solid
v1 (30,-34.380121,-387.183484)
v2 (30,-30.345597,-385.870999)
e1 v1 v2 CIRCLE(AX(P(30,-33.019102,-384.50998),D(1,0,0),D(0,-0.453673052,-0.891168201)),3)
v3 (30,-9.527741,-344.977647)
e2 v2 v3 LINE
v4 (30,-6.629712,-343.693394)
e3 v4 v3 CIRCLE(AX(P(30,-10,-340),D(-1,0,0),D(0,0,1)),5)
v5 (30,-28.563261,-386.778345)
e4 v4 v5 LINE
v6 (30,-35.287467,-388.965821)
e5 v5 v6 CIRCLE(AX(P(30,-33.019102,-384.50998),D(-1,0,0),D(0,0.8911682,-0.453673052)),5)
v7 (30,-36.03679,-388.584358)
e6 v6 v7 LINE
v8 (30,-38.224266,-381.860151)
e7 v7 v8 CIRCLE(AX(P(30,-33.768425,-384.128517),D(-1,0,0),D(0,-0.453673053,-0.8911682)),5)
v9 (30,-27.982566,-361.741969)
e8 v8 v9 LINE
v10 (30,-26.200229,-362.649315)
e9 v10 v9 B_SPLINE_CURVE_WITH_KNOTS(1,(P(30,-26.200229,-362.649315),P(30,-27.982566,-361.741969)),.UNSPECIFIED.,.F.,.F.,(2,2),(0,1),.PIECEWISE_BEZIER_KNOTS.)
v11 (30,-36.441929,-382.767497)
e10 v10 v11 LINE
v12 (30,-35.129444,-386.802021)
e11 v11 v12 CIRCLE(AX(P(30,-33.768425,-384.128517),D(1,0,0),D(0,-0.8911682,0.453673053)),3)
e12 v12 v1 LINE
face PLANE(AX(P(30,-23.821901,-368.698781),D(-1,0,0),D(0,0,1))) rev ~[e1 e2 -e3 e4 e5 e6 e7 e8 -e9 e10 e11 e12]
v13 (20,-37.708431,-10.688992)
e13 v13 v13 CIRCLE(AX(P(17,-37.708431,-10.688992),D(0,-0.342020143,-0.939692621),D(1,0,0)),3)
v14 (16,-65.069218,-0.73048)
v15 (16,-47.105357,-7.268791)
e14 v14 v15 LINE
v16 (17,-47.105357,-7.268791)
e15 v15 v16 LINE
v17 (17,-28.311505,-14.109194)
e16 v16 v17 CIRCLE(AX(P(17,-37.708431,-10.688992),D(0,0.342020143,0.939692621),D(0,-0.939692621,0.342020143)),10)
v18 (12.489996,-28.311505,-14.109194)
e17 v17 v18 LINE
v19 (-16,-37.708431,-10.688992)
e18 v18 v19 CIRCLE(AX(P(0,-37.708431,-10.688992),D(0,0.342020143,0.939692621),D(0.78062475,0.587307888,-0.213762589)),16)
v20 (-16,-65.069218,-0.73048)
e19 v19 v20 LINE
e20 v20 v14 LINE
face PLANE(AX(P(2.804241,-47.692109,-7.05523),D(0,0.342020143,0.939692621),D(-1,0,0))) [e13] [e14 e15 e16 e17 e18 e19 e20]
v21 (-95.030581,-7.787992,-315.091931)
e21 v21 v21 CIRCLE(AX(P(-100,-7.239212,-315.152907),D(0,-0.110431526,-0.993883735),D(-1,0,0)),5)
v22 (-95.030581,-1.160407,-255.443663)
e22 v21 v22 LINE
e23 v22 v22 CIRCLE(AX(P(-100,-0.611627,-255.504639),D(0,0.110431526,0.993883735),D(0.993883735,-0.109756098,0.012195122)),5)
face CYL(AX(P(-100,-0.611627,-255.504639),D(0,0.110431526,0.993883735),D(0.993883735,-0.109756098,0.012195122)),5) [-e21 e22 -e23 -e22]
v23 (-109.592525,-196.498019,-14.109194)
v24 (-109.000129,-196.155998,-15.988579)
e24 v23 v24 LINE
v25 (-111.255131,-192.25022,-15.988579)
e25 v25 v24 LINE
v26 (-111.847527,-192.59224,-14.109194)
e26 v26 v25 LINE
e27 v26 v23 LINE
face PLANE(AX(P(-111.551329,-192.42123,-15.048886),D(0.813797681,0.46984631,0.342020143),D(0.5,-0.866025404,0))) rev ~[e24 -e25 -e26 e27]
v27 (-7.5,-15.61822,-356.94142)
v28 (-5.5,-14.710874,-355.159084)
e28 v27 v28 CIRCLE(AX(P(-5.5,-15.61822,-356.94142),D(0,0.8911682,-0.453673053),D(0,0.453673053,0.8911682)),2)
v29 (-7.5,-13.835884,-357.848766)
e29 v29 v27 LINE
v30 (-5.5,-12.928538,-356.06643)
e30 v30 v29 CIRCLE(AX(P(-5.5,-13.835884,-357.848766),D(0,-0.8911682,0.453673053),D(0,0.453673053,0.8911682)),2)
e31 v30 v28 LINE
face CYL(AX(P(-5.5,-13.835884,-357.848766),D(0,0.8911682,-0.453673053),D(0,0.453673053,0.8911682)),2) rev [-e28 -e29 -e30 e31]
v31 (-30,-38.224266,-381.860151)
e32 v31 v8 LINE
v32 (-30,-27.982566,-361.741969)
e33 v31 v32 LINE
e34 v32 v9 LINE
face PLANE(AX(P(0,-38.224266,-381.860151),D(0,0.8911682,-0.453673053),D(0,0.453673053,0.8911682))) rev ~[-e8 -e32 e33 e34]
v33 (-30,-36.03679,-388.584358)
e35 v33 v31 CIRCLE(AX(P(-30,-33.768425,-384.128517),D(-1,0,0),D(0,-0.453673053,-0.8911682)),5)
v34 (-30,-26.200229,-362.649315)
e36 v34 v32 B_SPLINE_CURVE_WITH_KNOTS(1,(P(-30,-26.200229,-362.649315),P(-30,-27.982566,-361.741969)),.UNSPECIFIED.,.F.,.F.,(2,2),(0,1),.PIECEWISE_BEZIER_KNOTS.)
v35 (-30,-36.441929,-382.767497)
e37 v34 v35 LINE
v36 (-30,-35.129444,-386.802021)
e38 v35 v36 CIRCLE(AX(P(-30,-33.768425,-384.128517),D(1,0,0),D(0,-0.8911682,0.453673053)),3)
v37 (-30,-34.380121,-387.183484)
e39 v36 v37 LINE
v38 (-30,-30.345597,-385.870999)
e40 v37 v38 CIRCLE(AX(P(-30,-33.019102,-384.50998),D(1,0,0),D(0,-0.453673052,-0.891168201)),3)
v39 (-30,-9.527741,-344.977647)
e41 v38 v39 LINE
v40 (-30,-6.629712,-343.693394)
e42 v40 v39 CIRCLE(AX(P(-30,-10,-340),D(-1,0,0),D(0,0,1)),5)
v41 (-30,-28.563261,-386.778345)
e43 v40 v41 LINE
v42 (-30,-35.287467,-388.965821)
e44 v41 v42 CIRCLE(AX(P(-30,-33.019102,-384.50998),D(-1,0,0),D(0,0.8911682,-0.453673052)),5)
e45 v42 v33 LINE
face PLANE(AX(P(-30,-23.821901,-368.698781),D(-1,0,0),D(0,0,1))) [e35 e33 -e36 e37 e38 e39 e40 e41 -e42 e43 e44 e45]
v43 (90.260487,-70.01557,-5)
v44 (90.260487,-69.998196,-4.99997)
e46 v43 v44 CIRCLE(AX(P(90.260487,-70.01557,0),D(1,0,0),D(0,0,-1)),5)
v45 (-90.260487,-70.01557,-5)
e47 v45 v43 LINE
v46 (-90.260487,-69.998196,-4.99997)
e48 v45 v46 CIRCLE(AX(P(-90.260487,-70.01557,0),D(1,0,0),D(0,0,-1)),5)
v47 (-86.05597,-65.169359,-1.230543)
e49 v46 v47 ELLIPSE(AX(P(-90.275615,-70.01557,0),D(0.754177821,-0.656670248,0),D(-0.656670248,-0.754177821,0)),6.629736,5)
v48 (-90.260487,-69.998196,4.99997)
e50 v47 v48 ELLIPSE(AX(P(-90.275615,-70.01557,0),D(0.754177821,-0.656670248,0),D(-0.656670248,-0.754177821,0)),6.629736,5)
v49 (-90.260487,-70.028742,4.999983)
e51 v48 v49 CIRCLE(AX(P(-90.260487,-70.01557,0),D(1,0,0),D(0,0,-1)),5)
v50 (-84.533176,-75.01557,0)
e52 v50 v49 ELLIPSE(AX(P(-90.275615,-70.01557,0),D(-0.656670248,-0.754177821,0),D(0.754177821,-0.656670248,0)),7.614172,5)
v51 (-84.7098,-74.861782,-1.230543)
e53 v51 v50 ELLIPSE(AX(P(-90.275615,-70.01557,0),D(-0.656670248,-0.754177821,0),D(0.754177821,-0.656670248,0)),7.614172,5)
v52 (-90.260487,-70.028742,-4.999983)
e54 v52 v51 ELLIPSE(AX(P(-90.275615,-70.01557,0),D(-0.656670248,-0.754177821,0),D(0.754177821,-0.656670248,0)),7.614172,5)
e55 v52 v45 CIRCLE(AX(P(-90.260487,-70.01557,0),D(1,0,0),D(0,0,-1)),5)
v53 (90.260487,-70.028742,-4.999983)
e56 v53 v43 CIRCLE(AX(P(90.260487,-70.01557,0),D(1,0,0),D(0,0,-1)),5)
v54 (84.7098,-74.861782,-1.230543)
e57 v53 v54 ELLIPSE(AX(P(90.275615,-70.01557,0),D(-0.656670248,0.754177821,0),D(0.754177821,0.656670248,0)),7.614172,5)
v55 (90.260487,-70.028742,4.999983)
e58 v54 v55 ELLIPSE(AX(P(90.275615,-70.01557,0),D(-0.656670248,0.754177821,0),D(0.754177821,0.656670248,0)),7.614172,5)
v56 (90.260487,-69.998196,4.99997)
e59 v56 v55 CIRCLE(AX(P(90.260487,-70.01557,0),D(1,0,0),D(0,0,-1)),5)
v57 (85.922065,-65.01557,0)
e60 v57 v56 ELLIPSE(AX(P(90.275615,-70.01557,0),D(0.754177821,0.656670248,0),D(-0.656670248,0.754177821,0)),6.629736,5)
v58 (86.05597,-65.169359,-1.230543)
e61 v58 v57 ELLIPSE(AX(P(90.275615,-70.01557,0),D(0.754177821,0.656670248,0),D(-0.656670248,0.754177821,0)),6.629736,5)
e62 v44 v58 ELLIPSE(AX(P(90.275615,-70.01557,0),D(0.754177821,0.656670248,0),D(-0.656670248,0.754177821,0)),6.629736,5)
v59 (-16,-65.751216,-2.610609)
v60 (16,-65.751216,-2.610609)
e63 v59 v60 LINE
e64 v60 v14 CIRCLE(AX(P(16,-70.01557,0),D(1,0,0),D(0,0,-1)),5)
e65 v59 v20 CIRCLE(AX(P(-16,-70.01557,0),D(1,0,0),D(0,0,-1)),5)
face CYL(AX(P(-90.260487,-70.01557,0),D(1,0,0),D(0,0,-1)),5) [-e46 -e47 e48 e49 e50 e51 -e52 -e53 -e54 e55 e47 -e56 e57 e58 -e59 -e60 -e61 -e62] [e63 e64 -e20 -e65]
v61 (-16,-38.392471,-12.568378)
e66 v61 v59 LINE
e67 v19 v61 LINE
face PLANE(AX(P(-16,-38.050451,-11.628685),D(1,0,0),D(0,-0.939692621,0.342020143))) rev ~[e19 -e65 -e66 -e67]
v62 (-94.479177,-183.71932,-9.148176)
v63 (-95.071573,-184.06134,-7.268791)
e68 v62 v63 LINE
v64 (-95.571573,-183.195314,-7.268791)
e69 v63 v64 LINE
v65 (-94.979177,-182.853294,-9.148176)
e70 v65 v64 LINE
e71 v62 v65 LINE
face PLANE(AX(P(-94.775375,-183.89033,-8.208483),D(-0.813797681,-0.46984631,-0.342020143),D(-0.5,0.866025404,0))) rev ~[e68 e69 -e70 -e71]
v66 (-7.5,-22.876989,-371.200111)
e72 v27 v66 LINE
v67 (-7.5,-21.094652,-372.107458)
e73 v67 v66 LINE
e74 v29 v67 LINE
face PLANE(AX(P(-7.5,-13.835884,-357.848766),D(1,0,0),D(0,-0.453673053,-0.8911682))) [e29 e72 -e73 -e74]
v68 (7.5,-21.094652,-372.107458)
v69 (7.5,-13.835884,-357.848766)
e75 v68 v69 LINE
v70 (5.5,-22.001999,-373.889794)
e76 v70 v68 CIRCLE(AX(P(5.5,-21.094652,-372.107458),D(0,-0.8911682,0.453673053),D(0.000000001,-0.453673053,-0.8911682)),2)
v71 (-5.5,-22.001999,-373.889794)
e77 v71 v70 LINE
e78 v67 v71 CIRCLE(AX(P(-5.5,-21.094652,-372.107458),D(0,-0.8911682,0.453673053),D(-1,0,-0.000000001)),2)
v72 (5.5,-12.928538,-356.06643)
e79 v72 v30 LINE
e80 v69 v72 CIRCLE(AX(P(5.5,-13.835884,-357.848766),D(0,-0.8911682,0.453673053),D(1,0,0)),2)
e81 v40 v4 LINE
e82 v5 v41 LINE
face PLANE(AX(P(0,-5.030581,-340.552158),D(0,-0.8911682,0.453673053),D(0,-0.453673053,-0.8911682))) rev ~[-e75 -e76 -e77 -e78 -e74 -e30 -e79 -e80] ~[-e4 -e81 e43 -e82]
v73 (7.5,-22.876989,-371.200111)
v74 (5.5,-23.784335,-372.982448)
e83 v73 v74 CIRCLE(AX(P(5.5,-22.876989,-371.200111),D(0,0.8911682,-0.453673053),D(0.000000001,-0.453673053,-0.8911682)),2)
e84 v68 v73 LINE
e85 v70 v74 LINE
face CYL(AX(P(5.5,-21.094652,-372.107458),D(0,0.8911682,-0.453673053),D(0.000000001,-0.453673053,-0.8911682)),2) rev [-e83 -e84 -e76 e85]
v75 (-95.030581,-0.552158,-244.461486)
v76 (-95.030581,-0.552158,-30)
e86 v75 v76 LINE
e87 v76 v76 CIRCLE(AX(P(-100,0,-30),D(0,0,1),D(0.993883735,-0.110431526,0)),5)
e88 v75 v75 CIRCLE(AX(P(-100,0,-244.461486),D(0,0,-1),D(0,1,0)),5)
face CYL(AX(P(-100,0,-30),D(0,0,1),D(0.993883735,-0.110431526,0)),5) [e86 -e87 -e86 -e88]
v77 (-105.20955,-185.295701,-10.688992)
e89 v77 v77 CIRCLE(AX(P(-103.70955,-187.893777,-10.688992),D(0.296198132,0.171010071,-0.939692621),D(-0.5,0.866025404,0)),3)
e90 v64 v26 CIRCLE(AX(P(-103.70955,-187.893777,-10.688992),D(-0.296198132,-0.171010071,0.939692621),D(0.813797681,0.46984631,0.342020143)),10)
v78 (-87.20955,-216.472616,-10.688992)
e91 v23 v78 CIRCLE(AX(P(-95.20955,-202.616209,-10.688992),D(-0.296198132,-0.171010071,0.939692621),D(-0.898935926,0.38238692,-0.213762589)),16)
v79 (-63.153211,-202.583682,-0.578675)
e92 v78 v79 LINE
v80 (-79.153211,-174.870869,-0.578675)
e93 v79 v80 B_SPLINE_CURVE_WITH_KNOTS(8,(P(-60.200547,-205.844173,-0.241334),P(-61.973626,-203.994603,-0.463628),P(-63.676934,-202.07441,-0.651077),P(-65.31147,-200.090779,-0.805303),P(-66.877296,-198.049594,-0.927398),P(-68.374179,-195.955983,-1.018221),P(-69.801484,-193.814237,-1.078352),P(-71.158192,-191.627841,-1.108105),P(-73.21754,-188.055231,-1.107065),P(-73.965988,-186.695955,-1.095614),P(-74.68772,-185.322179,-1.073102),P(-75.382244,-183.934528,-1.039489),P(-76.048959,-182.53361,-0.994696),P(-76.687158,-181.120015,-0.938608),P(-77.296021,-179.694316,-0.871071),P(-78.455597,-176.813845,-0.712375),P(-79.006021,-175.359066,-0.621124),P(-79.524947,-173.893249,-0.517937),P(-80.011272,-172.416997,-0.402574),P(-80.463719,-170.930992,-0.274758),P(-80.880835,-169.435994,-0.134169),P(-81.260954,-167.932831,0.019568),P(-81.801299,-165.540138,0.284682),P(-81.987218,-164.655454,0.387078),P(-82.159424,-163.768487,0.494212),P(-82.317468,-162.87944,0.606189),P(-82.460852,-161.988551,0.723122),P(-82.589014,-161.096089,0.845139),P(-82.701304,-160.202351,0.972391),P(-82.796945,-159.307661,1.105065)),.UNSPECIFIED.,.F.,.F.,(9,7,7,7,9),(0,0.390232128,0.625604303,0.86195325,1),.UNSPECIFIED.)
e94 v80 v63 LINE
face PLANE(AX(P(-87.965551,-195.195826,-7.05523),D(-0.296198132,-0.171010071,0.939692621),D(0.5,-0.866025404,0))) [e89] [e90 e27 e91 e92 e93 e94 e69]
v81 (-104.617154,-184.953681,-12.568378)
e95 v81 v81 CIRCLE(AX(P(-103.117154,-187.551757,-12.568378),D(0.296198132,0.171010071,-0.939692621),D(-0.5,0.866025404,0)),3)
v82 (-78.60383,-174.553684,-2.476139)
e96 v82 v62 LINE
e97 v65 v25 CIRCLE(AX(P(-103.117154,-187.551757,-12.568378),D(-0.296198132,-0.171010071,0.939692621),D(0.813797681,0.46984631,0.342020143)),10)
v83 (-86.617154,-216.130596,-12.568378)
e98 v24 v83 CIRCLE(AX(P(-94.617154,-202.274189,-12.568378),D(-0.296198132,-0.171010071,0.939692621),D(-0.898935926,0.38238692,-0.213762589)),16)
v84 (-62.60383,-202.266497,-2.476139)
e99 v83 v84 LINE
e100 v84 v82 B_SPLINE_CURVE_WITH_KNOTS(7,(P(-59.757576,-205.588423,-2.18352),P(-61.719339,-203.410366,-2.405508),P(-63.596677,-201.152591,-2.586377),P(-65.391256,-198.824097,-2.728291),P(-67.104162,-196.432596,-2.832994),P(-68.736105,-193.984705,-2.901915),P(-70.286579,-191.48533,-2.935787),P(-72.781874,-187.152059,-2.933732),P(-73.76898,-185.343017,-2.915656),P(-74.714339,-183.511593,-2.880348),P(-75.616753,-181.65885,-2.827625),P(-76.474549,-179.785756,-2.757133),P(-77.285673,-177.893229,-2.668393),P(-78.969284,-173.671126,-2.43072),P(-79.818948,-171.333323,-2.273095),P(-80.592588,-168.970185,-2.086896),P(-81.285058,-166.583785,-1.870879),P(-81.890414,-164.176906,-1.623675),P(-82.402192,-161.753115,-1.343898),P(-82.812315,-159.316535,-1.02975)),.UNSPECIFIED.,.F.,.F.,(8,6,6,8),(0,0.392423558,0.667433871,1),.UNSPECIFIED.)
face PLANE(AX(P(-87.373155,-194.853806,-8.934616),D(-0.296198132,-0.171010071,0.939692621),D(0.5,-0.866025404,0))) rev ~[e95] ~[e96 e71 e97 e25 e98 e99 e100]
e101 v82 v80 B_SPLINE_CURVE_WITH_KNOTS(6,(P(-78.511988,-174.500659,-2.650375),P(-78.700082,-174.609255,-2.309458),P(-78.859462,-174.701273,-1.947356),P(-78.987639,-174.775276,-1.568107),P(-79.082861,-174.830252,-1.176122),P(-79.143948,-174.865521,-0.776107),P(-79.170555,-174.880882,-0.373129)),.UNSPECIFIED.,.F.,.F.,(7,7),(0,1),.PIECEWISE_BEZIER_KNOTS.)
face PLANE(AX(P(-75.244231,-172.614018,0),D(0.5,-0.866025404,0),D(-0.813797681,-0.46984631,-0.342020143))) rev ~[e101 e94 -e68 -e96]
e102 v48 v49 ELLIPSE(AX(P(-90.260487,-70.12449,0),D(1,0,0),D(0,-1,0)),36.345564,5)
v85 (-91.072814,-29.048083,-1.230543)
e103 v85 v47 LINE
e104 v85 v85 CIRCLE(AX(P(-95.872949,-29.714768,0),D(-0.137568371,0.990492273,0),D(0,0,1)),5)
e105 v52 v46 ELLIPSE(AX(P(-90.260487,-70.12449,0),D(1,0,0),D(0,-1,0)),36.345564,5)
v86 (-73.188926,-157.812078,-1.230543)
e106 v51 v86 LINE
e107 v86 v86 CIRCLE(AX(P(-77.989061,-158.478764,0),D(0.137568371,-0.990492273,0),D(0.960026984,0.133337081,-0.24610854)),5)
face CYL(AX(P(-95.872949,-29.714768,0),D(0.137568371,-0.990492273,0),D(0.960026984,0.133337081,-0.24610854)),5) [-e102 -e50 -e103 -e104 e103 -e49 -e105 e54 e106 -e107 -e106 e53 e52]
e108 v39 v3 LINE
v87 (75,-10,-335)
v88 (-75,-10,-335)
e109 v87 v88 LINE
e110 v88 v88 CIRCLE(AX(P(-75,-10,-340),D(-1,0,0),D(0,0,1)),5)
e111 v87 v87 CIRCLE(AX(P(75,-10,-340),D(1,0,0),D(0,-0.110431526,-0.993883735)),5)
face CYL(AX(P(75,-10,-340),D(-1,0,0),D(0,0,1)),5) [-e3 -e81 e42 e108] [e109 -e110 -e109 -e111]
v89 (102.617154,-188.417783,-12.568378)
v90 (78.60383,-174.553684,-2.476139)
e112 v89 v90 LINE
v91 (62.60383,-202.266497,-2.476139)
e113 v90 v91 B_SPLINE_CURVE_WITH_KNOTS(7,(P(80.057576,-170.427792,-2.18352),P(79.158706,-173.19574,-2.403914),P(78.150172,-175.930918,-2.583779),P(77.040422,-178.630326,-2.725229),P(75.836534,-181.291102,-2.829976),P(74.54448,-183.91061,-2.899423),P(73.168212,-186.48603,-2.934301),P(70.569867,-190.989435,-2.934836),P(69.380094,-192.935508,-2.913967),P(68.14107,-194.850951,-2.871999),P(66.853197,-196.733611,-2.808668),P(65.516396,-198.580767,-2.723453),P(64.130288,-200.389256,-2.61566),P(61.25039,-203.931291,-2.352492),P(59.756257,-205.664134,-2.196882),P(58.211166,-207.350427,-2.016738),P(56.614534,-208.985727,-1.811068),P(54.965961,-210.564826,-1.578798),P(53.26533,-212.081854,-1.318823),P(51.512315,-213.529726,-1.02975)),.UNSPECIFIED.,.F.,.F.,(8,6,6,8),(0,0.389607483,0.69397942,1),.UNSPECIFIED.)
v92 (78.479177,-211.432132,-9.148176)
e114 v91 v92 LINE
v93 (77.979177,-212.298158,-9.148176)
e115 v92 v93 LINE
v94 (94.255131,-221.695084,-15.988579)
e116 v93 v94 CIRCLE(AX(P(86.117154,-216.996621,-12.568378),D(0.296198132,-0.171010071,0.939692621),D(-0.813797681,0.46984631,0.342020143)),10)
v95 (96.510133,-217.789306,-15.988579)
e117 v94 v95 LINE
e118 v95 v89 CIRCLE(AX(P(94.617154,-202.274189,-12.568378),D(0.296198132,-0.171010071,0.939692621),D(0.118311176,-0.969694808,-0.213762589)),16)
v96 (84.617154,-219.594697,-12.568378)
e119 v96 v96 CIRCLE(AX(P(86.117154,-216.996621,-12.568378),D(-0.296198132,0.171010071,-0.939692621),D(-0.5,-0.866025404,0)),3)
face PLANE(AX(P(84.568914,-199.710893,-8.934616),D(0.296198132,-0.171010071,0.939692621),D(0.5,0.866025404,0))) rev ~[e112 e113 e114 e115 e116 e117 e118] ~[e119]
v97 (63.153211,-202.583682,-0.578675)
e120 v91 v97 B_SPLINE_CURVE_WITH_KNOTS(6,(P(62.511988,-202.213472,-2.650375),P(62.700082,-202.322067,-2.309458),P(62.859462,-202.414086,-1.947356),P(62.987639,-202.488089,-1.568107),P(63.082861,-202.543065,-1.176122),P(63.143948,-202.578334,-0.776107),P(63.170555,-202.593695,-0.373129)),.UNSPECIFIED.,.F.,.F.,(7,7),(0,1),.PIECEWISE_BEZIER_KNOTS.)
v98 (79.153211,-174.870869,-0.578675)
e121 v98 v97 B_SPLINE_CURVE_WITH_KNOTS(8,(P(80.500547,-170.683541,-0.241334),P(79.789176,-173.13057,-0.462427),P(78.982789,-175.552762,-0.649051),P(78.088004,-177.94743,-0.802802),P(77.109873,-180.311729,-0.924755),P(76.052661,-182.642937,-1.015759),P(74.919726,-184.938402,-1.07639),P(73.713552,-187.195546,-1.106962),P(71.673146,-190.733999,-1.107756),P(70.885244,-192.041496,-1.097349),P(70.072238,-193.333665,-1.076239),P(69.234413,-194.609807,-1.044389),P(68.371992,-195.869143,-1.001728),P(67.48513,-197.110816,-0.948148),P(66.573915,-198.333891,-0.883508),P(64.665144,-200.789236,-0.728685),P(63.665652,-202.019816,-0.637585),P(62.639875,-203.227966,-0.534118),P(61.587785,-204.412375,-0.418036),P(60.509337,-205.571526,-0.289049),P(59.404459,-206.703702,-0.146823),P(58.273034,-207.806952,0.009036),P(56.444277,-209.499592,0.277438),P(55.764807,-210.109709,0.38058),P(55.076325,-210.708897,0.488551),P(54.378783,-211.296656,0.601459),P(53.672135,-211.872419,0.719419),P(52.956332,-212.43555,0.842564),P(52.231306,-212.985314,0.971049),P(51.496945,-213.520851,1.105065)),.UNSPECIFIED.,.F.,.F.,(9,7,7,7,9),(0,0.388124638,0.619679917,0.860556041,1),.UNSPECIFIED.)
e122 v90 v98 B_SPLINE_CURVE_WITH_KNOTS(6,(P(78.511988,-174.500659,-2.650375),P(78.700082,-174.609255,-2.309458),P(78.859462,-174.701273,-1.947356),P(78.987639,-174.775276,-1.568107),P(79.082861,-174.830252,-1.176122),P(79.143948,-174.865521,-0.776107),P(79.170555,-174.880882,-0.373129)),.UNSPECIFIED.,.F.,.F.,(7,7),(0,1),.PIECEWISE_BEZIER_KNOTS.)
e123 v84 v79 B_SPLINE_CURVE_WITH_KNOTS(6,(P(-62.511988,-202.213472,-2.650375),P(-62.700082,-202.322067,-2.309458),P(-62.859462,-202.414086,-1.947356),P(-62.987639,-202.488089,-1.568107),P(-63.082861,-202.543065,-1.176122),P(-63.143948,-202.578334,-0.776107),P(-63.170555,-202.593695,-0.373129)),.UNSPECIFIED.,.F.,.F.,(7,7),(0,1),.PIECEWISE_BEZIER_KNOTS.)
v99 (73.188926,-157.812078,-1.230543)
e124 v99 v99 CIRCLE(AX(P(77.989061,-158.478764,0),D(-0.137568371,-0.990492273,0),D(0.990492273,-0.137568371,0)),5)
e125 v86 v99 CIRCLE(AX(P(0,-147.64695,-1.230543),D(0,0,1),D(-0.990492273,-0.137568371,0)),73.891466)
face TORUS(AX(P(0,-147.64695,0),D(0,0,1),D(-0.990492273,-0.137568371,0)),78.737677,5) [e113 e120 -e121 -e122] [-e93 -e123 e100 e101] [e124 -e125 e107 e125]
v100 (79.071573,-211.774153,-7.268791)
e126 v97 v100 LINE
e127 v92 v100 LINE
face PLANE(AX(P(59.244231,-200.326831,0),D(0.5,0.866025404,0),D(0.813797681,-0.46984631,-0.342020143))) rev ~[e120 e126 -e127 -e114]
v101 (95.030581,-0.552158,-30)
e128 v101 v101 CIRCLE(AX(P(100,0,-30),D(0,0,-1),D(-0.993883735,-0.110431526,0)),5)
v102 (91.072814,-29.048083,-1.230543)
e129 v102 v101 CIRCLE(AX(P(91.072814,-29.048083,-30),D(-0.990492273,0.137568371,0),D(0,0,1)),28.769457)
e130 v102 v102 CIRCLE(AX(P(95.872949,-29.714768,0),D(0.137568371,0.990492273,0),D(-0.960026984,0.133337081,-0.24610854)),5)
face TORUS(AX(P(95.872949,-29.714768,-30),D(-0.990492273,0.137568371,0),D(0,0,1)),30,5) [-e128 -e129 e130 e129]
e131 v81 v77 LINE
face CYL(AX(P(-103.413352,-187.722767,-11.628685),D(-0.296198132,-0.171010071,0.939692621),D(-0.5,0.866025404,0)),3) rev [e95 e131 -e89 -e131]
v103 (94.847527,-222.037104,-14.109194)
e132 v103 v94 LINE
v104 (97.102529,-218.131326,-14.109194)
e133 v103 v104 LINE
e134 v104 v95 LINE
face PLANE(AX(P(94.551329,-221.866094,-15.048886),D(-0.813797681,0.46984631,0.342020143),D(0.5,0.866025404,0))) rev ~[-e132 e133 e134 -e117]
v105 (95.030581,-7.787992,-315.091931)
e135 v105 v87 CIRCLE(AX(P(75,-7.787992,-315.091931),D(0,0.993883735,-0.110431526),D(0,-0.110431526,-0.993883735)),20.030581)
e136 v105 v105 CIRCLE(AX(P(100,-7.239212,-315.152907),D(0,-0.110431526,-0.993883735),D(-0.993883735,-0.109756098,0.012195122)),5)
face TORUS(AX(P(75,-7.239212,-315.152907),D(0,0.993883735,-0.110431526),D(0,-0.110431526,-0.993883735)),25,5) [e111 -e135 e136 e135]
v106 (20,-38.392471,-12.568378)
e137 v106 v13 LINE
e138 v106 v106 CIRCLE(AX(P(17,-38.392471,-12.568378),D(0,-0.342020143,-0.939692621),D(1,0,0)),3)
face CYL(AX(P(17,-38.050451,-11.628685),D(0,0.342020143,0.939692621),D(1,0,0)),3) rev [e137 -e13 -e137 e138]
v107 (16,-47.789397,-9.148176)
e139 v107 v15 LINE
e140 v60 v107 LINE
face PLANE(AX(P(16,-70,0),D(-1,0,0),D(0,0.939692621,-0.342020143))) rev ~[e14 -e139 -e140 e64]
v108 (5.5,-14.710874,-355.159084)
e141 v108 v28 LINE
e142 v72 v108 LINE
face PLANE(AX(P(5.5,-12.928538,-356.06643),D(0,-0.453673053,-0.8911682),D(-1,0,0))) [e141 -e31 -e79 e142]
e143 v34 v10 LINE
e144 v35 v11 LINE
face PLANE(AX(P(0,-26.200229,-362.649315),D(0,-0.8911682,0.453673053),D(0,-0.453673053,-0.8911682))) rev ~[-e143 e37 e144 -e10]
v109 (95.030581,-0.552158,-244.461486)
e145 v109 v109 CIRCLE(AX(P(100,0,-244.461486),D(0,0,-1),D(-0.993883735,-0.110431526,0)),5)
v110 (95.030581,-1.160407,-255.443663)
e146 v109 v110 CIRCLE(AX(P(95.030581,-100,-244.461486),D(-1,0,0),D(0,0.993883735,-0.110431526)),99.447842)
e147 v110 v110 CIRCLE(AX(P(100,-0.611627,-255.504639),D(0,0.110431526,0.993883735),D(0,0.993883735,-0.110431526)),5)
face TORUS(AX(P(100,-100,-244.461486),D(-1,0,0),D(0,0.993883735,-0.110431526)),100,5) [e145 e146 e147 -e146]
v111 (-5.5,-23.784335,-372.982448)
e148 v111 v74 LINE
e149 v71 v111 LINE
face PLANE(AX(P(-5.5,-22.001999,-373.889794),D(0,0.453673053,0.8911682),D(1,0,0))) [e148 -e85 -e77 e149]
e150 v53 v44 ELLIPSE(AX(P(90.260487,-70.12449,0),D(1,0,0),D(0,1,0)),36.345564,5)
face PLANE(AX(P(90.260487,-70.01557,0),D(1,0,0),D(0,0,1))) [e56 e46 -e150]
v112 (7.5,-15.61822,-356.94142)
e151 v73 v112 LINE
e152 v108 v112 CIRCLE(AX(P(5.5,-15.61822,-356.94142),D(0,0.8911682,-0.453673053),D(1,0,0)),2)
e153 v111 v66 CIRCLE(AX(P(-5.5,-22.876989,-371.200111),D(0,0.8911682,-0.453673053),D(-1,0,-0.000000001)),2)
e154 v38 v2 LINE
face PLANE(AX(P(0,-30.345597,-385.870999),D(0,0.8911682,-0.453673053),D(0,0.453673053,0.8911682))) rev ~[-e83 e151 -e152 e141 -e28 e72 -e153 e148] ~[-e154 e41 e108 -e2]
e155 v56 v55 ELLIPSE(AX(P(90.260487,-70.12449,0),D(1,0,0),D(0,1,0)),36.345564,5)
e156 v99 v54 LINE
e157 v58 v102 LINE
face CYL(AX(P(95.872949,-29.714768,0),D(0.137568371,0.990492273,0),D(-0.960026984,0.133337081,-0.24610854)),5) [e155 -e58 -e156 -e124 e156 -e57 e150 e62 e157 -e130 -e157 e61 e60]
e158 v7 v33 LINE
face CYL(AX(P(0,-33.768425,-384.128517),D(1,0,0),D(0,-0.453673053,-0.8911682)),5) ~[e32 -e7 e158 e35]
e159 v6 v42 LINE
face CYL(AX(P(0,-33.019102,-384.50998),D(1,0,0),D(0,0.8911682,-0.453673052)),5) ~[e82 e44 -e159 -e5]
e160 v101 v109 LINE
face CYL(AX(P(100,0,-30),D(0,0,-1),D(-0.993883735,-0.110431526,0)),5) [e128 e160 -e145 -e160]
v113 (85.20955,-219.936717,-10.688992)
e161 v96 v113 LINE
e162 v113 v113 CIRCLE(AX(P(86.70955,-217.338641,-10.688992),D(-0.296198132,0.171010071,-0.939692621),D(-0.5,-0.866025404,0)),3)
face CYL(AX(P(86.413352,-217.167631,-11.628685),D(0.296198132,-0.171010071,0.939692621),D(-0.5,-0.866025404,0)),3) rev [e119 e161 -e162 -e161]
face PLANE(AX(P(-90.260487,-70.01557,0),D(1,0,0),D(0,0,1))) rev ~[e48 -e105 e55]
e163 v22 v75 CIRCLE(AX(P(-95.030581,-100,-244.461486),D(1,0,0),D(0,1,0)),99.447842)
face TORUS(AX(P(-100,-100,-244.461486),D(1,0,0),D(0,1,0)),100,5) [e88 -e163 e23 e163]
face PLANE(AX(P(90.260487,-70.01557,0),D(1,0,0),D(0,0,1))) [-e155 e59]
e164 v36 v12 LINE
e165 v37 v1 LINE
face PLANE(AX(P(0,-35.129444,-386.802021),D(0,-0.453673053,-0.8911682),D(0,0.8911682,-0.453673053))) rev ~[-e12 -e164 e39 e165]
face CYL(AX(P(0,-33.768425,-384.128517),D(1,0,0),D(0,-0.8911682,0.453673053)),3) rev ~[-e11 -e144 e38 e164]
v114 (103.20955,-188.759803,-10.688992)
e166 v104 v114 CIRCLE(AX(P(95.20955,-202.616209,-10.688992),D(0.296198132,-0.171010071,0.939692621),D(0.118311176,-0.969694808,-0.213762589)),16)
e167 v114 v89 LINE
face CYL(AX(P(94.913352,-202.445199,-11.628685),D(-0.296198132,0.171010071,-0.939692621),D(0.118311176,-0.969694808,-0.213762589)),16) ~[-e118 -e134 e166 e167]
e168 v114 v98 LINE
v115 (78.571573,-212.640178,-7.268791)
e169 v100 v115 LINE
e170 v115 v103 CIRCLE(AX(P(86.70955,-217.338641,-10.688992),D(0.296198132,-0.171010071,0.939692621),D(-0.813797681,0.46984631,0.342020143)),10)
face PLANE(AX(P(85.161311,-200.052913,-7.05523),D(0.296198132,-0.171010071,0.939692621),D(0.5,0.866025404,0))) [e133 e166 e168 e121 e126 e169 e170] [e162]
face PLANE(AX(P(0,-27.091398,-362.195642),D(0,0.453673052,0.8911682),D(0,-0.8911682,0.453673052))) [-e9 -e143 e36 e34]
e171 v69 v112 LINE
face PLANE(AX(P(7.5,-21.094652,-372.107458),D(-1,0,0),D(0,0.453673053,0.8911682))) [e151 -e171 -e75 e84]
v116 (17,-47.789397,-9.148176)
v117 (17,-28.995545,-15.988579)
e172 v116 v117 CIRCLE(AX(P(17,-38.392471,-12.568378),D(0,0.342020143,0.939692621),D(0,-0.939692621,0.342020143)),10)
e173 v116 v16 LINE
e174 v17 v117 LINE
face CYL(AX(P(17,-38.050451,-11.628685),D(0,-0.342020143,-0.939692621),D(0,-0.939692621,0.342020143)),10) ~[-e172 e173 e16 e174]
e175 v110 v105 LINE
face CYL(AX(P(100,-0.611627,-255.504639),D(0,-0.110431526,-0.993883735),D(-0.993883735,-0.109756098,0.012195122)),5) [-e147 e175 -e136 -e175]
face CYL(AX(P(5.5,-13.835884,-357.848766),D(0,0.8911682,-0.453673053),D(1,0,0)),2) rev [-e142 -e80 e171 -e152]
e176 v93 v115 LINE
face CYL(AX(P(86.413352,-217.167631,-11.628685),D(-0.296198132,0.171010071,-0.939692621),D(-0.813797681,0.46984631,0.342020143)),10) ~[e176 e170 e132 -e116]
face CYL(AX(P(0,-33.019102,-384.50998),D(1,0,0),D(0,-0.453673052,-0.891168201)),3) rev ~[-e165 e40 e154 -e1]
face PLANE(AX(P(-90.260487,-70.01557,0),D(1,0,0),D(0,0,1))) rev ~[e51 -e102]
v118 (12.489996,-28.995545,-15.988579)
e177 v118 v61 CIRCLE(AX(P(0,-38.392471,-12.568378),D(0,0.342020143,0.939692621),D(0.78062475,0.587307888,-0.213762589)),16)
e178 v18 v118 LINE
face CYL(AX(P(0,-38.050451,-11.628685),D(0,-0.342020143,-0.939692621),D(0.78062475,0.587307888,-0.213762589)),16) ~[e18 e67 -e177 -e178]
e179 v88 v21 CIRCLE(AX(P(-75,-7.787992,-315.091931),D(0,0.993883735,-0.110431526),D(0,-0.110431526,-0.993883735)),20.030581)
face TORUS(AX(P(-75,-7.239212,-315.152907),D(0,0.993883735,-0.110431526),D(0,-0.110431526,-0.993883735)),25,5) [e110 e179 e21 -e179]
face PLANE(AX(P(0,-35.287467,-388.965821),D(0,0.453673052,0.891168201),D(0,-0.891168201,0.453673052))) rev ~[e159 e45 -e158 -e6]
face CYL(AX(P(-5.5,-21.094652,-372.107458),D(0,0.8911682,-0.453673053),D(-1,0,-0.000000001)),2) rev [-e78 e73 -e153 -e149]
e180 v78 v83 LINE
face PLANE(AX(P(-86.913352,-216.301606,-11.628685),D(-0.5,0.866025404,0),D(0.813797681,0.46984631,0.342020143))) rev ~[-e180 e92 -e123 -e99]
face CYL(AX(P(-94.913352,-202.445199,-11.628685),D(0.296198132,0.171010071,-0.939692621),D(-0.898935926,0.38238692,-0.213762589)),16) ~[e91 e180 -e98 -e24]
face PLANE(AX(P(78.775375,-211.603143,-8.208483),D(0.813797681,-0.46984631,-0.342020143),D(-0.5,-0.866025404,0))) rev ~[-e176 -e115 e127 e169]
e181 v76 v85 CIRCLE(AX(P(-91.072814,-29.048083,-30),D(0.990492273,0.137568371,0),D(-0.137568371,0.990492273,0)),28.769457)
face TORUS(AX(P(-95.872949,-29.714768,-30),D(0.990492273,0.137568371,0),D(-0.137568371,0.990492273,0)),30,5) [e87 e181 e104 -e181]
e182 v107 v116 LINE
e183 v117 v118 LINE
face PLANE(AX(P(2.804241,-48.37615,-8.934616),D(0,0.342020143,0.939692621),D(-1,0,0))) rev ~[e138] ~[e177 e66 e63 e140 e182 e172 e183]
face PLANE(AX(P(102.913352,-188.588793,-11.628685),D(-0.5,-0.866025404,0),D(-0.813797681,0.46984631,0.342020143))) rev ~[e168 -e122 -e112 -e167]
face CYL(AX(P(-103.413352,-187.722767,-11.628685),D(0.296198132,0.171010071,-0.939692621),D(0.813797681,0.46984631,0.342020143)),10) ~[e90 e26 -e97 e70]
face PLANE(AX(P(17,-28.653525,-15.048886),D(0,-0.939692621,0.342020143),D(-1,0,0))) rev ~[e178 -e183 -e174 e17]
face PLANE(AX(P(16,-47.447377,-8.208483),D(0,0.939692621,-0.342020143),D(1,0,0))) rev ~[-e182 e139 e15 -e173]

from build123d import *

# Parameters (mm, degrees)
SKETCH_1_R               = 5
SKETCH_8_R               = 5
SKETCH_9_R               = 3
EXTRUDE_1_DEPTH          = 1
PATTERN_CIRCULAR_2_COUNT = 3
EXTRUDE_2_DEPTH          = 30
EXTRUDE_2_DEPTH_BACK     = 30
CUT_EXTRUDE_1_DEPTH      = 5


with BuildPart() as part:
    # 扫描1: sweep along a curve in space
    with BuildLine() as sweep_1_path:
        Line((100, 0, -30), (100, 0, -244.461486186))
        ThreePointArc((100, -0.611626533, -255.504638794), (100, -0.153023714, -249.99152476), (100, 0, -244.461486186))
        Line((100, -0.611626533, -255.504638794), (100, -7.239211848, -315.152906633))
        ThreePointArc((75, -10, -340), (92.67766953, -9.191383872, -332.722454846), (100, -7.239211848, -315.152906633))
        Line((75, -10, -340), (-75, -10, -340))
        ThreePointArc((-75, -10, -340), (-92.67766953, -9.191383872, -332.722454846), (-100, -7.239211848, -315.152906633))
        Line((-100, -0.611626533, -255.504638794), (-100, -7.239211848, -315.152906633))
        ThreePointArc((-100, 0, -244.461486186), (-100, -0.153023714, -249.99152476), (-100, -0.611626533, -255.504638794))
        Line((-100, 0, -30), (-100, 0, -244.461486186))
        ThreePointArc((-100, 0, -30), (-98.791214708, -8.703254103, -8.786796564), (-95.872948862, -29.714768195, 0))
        Line((-95.872948862, -29.714768195, 0), (-77.989060596, -158.478763708, 0))
        ThreePointArc((-77.989060596, -158.478763708, 0), (0, -226.384626656, 0), (77.989060596, -158.478763708, 0))
        Line((95.872948862, -29.714768195, 0), (77.989060596, -158.478763708, 0))
        ThreePointArc((95.872948862, -29.714768195, 0), (98.791214708, -8.703254103, -8.786796564), (100, 0, -30))
    # 草图1 → 扫描1 (sweep)
    with BuildSketch(Plane.ZY):
        with Locations((-340, -10)):
            Circle(SKETCH_1_R)
    sweep(path=sweep_1_path.line)

    # 扫描5: sweep along a path in 草图2
    with BuildLine(Plane(origin=(0, -70, 0), x_dir=(1, 0, 0), z_dir=(0, 1, 0))) as sweep_5_path:
        Line((-90.260487496, 0), (90.260487496, 0))
    # 草图8 → 扫描5 (sweep)
    with BuildSketch(Plane(origin=(90.260487496, -70, 0), x_dir=(0, 0, -1), z_dir=(1, 0, 0))):
        with Locations((0, -0.015570491)):
            Circle(SKETCH_8_R)
    sweep(path=sweep_5_path.line)

    # 草图9 → 凸台-拉伸1 (add, symmetric)
    with BuildSketch(Plane(origin=(0, -8.188444491, -22.497566339), x_dir=(1, 0, 0), z_dir=(0, -0.3420201433256631, -0.9396926207859105))):
        with BuildLine():
            Line((-16, 65.778483455), (16, 65.778483455))
            Line((16, 65.778483455), (16, 41.778483455))
            Line((16, 41.778483455), (17, 41.778483455))
            ThreePointArc((17, 41.778483455), (27, 31.778483455), (17, 21.778483455))
            Line((17, 21.778483455), (12.489995997, 21.778483455))
            ThreePointArc((12.489995997, 21.778483455), (-5.299059542, 16.681464942), (-16, 31.778483455))
            Line((-16, 31.778483455), (-16, 65.778483455))
        make_face()
        with Locations((17, 31.778483455)):
            Circle(SKETCH_9_R, mode=Mode.SUBTRACT)
    extrude_1 = extrude(amount=EXTRUDE_1_DEPTH, both=True)

    # 阵列(圆周)2: 凸台-拉伸1 ×3 about axis
    pattern_circular_2_axis = Axis((0, -147.646949737, 0), (0, 0, 1))
    for i in range(1, PATTERN_CIRCULAR_2_COUNT):
        add(extrude_1.rotate(pattern_circular_2_axis, i * 360 / PATTERN_CIRCULAR_2_COUNT))

    # 草图14 → 凸台-拉伸2 (add, two sides: drawn at the far end of the back side and taken through both)
    with BuildSketch(Plane(origin=(0, 0, 0), x_dir=(0, 0, -1), z_dir=(1, 0, 0)).offset(-EXTRUDE_2_DEPTH_BACK)):
        with BuildLine():
            Line((340.55215763, -5.030581327), (386.778344879, -28.563260648))
            ThreePointArc((386.778344879, -28.563260648), (389.264711464, -31.472322721), (388.965820617, -35.287466913))
            Line((388.965820617, -35.287466913), (388.584357581, -36.036790078))
            ThreePointArc((388.584357581, -36.036790078), (385.675295508, -38.523156663), (381.860151316, -38.224265817))
            Line((381.860151316, -38.224265817), (361.741968678, -27.982565847))
            Line((361.741968678, -27.982565847), (362.649314783, -26.200229446))
            Line((362.649314783, -26.200229446), (382.767497421, -36.441929416))
            ThreePointArc((382.767497421, -36.441929416), (385.056583936, -36.621263924), (386.80202118, -35.129443973))
            Line((386.80202118, -35.129443973), (387.183484217, -34.380120807))
            ThreePointArc((387.183484217, -34.380120807), (387.362818724, -32.091034292), (385.870998774, -30.345597048))
            Line((385.870998774, -30.345597048), (339.644811525, -6.812917727))
            Line((339.644811525, -6.812917727), (340.55215763, -5.030581327))
        make_face()
    extrude(amount=EXTRUDE_2_DEPTH + EXTRUDE_2_DEPTH_BACK)

    # 草图15 → 切除-拉伸1 (cut)
    with BuildSketch(Plane(origin=(0, 133.689705139, -68.058326824), x_dir=(1, 0, 0), z_dir=(0, 0.8911682003552971, -0.4536730526221514))):
        with BuildLine():
            Line((5.5, 323.180408649), (-5.5, 323.180408649))
            ThreePointArc((-5.5, 323.180408649), (-6.914213562, 323.766195086), (-7.5, 325.180408649))
            Line((-7.5, 325.180408649), (-7.5, 341.180408649))
            ThreePointArc((-7.5, 341.180408649), (-6.914213562, 342.594622211), (-5.5, 343.180408649))
            Line((-5.5, 343.180408649), (5.5, 343.180408649))
            ThreePointArc((5.5, 343.180408649), (6.914213562, 342.594622211), (7.5, 341.180408649))
            Line((7.5, 341.180408649), (7.5, 325.180408649))
            ThreePointArc((7.5, 325.180408649), (6.914213562, 323.766195086), (5.5, 323.180408649))
        make_face()
    extrude(amount=-CUT_EXTRUDE_1_DEPTH, mode=Mode.SUBTRACT)


solid = part.part
